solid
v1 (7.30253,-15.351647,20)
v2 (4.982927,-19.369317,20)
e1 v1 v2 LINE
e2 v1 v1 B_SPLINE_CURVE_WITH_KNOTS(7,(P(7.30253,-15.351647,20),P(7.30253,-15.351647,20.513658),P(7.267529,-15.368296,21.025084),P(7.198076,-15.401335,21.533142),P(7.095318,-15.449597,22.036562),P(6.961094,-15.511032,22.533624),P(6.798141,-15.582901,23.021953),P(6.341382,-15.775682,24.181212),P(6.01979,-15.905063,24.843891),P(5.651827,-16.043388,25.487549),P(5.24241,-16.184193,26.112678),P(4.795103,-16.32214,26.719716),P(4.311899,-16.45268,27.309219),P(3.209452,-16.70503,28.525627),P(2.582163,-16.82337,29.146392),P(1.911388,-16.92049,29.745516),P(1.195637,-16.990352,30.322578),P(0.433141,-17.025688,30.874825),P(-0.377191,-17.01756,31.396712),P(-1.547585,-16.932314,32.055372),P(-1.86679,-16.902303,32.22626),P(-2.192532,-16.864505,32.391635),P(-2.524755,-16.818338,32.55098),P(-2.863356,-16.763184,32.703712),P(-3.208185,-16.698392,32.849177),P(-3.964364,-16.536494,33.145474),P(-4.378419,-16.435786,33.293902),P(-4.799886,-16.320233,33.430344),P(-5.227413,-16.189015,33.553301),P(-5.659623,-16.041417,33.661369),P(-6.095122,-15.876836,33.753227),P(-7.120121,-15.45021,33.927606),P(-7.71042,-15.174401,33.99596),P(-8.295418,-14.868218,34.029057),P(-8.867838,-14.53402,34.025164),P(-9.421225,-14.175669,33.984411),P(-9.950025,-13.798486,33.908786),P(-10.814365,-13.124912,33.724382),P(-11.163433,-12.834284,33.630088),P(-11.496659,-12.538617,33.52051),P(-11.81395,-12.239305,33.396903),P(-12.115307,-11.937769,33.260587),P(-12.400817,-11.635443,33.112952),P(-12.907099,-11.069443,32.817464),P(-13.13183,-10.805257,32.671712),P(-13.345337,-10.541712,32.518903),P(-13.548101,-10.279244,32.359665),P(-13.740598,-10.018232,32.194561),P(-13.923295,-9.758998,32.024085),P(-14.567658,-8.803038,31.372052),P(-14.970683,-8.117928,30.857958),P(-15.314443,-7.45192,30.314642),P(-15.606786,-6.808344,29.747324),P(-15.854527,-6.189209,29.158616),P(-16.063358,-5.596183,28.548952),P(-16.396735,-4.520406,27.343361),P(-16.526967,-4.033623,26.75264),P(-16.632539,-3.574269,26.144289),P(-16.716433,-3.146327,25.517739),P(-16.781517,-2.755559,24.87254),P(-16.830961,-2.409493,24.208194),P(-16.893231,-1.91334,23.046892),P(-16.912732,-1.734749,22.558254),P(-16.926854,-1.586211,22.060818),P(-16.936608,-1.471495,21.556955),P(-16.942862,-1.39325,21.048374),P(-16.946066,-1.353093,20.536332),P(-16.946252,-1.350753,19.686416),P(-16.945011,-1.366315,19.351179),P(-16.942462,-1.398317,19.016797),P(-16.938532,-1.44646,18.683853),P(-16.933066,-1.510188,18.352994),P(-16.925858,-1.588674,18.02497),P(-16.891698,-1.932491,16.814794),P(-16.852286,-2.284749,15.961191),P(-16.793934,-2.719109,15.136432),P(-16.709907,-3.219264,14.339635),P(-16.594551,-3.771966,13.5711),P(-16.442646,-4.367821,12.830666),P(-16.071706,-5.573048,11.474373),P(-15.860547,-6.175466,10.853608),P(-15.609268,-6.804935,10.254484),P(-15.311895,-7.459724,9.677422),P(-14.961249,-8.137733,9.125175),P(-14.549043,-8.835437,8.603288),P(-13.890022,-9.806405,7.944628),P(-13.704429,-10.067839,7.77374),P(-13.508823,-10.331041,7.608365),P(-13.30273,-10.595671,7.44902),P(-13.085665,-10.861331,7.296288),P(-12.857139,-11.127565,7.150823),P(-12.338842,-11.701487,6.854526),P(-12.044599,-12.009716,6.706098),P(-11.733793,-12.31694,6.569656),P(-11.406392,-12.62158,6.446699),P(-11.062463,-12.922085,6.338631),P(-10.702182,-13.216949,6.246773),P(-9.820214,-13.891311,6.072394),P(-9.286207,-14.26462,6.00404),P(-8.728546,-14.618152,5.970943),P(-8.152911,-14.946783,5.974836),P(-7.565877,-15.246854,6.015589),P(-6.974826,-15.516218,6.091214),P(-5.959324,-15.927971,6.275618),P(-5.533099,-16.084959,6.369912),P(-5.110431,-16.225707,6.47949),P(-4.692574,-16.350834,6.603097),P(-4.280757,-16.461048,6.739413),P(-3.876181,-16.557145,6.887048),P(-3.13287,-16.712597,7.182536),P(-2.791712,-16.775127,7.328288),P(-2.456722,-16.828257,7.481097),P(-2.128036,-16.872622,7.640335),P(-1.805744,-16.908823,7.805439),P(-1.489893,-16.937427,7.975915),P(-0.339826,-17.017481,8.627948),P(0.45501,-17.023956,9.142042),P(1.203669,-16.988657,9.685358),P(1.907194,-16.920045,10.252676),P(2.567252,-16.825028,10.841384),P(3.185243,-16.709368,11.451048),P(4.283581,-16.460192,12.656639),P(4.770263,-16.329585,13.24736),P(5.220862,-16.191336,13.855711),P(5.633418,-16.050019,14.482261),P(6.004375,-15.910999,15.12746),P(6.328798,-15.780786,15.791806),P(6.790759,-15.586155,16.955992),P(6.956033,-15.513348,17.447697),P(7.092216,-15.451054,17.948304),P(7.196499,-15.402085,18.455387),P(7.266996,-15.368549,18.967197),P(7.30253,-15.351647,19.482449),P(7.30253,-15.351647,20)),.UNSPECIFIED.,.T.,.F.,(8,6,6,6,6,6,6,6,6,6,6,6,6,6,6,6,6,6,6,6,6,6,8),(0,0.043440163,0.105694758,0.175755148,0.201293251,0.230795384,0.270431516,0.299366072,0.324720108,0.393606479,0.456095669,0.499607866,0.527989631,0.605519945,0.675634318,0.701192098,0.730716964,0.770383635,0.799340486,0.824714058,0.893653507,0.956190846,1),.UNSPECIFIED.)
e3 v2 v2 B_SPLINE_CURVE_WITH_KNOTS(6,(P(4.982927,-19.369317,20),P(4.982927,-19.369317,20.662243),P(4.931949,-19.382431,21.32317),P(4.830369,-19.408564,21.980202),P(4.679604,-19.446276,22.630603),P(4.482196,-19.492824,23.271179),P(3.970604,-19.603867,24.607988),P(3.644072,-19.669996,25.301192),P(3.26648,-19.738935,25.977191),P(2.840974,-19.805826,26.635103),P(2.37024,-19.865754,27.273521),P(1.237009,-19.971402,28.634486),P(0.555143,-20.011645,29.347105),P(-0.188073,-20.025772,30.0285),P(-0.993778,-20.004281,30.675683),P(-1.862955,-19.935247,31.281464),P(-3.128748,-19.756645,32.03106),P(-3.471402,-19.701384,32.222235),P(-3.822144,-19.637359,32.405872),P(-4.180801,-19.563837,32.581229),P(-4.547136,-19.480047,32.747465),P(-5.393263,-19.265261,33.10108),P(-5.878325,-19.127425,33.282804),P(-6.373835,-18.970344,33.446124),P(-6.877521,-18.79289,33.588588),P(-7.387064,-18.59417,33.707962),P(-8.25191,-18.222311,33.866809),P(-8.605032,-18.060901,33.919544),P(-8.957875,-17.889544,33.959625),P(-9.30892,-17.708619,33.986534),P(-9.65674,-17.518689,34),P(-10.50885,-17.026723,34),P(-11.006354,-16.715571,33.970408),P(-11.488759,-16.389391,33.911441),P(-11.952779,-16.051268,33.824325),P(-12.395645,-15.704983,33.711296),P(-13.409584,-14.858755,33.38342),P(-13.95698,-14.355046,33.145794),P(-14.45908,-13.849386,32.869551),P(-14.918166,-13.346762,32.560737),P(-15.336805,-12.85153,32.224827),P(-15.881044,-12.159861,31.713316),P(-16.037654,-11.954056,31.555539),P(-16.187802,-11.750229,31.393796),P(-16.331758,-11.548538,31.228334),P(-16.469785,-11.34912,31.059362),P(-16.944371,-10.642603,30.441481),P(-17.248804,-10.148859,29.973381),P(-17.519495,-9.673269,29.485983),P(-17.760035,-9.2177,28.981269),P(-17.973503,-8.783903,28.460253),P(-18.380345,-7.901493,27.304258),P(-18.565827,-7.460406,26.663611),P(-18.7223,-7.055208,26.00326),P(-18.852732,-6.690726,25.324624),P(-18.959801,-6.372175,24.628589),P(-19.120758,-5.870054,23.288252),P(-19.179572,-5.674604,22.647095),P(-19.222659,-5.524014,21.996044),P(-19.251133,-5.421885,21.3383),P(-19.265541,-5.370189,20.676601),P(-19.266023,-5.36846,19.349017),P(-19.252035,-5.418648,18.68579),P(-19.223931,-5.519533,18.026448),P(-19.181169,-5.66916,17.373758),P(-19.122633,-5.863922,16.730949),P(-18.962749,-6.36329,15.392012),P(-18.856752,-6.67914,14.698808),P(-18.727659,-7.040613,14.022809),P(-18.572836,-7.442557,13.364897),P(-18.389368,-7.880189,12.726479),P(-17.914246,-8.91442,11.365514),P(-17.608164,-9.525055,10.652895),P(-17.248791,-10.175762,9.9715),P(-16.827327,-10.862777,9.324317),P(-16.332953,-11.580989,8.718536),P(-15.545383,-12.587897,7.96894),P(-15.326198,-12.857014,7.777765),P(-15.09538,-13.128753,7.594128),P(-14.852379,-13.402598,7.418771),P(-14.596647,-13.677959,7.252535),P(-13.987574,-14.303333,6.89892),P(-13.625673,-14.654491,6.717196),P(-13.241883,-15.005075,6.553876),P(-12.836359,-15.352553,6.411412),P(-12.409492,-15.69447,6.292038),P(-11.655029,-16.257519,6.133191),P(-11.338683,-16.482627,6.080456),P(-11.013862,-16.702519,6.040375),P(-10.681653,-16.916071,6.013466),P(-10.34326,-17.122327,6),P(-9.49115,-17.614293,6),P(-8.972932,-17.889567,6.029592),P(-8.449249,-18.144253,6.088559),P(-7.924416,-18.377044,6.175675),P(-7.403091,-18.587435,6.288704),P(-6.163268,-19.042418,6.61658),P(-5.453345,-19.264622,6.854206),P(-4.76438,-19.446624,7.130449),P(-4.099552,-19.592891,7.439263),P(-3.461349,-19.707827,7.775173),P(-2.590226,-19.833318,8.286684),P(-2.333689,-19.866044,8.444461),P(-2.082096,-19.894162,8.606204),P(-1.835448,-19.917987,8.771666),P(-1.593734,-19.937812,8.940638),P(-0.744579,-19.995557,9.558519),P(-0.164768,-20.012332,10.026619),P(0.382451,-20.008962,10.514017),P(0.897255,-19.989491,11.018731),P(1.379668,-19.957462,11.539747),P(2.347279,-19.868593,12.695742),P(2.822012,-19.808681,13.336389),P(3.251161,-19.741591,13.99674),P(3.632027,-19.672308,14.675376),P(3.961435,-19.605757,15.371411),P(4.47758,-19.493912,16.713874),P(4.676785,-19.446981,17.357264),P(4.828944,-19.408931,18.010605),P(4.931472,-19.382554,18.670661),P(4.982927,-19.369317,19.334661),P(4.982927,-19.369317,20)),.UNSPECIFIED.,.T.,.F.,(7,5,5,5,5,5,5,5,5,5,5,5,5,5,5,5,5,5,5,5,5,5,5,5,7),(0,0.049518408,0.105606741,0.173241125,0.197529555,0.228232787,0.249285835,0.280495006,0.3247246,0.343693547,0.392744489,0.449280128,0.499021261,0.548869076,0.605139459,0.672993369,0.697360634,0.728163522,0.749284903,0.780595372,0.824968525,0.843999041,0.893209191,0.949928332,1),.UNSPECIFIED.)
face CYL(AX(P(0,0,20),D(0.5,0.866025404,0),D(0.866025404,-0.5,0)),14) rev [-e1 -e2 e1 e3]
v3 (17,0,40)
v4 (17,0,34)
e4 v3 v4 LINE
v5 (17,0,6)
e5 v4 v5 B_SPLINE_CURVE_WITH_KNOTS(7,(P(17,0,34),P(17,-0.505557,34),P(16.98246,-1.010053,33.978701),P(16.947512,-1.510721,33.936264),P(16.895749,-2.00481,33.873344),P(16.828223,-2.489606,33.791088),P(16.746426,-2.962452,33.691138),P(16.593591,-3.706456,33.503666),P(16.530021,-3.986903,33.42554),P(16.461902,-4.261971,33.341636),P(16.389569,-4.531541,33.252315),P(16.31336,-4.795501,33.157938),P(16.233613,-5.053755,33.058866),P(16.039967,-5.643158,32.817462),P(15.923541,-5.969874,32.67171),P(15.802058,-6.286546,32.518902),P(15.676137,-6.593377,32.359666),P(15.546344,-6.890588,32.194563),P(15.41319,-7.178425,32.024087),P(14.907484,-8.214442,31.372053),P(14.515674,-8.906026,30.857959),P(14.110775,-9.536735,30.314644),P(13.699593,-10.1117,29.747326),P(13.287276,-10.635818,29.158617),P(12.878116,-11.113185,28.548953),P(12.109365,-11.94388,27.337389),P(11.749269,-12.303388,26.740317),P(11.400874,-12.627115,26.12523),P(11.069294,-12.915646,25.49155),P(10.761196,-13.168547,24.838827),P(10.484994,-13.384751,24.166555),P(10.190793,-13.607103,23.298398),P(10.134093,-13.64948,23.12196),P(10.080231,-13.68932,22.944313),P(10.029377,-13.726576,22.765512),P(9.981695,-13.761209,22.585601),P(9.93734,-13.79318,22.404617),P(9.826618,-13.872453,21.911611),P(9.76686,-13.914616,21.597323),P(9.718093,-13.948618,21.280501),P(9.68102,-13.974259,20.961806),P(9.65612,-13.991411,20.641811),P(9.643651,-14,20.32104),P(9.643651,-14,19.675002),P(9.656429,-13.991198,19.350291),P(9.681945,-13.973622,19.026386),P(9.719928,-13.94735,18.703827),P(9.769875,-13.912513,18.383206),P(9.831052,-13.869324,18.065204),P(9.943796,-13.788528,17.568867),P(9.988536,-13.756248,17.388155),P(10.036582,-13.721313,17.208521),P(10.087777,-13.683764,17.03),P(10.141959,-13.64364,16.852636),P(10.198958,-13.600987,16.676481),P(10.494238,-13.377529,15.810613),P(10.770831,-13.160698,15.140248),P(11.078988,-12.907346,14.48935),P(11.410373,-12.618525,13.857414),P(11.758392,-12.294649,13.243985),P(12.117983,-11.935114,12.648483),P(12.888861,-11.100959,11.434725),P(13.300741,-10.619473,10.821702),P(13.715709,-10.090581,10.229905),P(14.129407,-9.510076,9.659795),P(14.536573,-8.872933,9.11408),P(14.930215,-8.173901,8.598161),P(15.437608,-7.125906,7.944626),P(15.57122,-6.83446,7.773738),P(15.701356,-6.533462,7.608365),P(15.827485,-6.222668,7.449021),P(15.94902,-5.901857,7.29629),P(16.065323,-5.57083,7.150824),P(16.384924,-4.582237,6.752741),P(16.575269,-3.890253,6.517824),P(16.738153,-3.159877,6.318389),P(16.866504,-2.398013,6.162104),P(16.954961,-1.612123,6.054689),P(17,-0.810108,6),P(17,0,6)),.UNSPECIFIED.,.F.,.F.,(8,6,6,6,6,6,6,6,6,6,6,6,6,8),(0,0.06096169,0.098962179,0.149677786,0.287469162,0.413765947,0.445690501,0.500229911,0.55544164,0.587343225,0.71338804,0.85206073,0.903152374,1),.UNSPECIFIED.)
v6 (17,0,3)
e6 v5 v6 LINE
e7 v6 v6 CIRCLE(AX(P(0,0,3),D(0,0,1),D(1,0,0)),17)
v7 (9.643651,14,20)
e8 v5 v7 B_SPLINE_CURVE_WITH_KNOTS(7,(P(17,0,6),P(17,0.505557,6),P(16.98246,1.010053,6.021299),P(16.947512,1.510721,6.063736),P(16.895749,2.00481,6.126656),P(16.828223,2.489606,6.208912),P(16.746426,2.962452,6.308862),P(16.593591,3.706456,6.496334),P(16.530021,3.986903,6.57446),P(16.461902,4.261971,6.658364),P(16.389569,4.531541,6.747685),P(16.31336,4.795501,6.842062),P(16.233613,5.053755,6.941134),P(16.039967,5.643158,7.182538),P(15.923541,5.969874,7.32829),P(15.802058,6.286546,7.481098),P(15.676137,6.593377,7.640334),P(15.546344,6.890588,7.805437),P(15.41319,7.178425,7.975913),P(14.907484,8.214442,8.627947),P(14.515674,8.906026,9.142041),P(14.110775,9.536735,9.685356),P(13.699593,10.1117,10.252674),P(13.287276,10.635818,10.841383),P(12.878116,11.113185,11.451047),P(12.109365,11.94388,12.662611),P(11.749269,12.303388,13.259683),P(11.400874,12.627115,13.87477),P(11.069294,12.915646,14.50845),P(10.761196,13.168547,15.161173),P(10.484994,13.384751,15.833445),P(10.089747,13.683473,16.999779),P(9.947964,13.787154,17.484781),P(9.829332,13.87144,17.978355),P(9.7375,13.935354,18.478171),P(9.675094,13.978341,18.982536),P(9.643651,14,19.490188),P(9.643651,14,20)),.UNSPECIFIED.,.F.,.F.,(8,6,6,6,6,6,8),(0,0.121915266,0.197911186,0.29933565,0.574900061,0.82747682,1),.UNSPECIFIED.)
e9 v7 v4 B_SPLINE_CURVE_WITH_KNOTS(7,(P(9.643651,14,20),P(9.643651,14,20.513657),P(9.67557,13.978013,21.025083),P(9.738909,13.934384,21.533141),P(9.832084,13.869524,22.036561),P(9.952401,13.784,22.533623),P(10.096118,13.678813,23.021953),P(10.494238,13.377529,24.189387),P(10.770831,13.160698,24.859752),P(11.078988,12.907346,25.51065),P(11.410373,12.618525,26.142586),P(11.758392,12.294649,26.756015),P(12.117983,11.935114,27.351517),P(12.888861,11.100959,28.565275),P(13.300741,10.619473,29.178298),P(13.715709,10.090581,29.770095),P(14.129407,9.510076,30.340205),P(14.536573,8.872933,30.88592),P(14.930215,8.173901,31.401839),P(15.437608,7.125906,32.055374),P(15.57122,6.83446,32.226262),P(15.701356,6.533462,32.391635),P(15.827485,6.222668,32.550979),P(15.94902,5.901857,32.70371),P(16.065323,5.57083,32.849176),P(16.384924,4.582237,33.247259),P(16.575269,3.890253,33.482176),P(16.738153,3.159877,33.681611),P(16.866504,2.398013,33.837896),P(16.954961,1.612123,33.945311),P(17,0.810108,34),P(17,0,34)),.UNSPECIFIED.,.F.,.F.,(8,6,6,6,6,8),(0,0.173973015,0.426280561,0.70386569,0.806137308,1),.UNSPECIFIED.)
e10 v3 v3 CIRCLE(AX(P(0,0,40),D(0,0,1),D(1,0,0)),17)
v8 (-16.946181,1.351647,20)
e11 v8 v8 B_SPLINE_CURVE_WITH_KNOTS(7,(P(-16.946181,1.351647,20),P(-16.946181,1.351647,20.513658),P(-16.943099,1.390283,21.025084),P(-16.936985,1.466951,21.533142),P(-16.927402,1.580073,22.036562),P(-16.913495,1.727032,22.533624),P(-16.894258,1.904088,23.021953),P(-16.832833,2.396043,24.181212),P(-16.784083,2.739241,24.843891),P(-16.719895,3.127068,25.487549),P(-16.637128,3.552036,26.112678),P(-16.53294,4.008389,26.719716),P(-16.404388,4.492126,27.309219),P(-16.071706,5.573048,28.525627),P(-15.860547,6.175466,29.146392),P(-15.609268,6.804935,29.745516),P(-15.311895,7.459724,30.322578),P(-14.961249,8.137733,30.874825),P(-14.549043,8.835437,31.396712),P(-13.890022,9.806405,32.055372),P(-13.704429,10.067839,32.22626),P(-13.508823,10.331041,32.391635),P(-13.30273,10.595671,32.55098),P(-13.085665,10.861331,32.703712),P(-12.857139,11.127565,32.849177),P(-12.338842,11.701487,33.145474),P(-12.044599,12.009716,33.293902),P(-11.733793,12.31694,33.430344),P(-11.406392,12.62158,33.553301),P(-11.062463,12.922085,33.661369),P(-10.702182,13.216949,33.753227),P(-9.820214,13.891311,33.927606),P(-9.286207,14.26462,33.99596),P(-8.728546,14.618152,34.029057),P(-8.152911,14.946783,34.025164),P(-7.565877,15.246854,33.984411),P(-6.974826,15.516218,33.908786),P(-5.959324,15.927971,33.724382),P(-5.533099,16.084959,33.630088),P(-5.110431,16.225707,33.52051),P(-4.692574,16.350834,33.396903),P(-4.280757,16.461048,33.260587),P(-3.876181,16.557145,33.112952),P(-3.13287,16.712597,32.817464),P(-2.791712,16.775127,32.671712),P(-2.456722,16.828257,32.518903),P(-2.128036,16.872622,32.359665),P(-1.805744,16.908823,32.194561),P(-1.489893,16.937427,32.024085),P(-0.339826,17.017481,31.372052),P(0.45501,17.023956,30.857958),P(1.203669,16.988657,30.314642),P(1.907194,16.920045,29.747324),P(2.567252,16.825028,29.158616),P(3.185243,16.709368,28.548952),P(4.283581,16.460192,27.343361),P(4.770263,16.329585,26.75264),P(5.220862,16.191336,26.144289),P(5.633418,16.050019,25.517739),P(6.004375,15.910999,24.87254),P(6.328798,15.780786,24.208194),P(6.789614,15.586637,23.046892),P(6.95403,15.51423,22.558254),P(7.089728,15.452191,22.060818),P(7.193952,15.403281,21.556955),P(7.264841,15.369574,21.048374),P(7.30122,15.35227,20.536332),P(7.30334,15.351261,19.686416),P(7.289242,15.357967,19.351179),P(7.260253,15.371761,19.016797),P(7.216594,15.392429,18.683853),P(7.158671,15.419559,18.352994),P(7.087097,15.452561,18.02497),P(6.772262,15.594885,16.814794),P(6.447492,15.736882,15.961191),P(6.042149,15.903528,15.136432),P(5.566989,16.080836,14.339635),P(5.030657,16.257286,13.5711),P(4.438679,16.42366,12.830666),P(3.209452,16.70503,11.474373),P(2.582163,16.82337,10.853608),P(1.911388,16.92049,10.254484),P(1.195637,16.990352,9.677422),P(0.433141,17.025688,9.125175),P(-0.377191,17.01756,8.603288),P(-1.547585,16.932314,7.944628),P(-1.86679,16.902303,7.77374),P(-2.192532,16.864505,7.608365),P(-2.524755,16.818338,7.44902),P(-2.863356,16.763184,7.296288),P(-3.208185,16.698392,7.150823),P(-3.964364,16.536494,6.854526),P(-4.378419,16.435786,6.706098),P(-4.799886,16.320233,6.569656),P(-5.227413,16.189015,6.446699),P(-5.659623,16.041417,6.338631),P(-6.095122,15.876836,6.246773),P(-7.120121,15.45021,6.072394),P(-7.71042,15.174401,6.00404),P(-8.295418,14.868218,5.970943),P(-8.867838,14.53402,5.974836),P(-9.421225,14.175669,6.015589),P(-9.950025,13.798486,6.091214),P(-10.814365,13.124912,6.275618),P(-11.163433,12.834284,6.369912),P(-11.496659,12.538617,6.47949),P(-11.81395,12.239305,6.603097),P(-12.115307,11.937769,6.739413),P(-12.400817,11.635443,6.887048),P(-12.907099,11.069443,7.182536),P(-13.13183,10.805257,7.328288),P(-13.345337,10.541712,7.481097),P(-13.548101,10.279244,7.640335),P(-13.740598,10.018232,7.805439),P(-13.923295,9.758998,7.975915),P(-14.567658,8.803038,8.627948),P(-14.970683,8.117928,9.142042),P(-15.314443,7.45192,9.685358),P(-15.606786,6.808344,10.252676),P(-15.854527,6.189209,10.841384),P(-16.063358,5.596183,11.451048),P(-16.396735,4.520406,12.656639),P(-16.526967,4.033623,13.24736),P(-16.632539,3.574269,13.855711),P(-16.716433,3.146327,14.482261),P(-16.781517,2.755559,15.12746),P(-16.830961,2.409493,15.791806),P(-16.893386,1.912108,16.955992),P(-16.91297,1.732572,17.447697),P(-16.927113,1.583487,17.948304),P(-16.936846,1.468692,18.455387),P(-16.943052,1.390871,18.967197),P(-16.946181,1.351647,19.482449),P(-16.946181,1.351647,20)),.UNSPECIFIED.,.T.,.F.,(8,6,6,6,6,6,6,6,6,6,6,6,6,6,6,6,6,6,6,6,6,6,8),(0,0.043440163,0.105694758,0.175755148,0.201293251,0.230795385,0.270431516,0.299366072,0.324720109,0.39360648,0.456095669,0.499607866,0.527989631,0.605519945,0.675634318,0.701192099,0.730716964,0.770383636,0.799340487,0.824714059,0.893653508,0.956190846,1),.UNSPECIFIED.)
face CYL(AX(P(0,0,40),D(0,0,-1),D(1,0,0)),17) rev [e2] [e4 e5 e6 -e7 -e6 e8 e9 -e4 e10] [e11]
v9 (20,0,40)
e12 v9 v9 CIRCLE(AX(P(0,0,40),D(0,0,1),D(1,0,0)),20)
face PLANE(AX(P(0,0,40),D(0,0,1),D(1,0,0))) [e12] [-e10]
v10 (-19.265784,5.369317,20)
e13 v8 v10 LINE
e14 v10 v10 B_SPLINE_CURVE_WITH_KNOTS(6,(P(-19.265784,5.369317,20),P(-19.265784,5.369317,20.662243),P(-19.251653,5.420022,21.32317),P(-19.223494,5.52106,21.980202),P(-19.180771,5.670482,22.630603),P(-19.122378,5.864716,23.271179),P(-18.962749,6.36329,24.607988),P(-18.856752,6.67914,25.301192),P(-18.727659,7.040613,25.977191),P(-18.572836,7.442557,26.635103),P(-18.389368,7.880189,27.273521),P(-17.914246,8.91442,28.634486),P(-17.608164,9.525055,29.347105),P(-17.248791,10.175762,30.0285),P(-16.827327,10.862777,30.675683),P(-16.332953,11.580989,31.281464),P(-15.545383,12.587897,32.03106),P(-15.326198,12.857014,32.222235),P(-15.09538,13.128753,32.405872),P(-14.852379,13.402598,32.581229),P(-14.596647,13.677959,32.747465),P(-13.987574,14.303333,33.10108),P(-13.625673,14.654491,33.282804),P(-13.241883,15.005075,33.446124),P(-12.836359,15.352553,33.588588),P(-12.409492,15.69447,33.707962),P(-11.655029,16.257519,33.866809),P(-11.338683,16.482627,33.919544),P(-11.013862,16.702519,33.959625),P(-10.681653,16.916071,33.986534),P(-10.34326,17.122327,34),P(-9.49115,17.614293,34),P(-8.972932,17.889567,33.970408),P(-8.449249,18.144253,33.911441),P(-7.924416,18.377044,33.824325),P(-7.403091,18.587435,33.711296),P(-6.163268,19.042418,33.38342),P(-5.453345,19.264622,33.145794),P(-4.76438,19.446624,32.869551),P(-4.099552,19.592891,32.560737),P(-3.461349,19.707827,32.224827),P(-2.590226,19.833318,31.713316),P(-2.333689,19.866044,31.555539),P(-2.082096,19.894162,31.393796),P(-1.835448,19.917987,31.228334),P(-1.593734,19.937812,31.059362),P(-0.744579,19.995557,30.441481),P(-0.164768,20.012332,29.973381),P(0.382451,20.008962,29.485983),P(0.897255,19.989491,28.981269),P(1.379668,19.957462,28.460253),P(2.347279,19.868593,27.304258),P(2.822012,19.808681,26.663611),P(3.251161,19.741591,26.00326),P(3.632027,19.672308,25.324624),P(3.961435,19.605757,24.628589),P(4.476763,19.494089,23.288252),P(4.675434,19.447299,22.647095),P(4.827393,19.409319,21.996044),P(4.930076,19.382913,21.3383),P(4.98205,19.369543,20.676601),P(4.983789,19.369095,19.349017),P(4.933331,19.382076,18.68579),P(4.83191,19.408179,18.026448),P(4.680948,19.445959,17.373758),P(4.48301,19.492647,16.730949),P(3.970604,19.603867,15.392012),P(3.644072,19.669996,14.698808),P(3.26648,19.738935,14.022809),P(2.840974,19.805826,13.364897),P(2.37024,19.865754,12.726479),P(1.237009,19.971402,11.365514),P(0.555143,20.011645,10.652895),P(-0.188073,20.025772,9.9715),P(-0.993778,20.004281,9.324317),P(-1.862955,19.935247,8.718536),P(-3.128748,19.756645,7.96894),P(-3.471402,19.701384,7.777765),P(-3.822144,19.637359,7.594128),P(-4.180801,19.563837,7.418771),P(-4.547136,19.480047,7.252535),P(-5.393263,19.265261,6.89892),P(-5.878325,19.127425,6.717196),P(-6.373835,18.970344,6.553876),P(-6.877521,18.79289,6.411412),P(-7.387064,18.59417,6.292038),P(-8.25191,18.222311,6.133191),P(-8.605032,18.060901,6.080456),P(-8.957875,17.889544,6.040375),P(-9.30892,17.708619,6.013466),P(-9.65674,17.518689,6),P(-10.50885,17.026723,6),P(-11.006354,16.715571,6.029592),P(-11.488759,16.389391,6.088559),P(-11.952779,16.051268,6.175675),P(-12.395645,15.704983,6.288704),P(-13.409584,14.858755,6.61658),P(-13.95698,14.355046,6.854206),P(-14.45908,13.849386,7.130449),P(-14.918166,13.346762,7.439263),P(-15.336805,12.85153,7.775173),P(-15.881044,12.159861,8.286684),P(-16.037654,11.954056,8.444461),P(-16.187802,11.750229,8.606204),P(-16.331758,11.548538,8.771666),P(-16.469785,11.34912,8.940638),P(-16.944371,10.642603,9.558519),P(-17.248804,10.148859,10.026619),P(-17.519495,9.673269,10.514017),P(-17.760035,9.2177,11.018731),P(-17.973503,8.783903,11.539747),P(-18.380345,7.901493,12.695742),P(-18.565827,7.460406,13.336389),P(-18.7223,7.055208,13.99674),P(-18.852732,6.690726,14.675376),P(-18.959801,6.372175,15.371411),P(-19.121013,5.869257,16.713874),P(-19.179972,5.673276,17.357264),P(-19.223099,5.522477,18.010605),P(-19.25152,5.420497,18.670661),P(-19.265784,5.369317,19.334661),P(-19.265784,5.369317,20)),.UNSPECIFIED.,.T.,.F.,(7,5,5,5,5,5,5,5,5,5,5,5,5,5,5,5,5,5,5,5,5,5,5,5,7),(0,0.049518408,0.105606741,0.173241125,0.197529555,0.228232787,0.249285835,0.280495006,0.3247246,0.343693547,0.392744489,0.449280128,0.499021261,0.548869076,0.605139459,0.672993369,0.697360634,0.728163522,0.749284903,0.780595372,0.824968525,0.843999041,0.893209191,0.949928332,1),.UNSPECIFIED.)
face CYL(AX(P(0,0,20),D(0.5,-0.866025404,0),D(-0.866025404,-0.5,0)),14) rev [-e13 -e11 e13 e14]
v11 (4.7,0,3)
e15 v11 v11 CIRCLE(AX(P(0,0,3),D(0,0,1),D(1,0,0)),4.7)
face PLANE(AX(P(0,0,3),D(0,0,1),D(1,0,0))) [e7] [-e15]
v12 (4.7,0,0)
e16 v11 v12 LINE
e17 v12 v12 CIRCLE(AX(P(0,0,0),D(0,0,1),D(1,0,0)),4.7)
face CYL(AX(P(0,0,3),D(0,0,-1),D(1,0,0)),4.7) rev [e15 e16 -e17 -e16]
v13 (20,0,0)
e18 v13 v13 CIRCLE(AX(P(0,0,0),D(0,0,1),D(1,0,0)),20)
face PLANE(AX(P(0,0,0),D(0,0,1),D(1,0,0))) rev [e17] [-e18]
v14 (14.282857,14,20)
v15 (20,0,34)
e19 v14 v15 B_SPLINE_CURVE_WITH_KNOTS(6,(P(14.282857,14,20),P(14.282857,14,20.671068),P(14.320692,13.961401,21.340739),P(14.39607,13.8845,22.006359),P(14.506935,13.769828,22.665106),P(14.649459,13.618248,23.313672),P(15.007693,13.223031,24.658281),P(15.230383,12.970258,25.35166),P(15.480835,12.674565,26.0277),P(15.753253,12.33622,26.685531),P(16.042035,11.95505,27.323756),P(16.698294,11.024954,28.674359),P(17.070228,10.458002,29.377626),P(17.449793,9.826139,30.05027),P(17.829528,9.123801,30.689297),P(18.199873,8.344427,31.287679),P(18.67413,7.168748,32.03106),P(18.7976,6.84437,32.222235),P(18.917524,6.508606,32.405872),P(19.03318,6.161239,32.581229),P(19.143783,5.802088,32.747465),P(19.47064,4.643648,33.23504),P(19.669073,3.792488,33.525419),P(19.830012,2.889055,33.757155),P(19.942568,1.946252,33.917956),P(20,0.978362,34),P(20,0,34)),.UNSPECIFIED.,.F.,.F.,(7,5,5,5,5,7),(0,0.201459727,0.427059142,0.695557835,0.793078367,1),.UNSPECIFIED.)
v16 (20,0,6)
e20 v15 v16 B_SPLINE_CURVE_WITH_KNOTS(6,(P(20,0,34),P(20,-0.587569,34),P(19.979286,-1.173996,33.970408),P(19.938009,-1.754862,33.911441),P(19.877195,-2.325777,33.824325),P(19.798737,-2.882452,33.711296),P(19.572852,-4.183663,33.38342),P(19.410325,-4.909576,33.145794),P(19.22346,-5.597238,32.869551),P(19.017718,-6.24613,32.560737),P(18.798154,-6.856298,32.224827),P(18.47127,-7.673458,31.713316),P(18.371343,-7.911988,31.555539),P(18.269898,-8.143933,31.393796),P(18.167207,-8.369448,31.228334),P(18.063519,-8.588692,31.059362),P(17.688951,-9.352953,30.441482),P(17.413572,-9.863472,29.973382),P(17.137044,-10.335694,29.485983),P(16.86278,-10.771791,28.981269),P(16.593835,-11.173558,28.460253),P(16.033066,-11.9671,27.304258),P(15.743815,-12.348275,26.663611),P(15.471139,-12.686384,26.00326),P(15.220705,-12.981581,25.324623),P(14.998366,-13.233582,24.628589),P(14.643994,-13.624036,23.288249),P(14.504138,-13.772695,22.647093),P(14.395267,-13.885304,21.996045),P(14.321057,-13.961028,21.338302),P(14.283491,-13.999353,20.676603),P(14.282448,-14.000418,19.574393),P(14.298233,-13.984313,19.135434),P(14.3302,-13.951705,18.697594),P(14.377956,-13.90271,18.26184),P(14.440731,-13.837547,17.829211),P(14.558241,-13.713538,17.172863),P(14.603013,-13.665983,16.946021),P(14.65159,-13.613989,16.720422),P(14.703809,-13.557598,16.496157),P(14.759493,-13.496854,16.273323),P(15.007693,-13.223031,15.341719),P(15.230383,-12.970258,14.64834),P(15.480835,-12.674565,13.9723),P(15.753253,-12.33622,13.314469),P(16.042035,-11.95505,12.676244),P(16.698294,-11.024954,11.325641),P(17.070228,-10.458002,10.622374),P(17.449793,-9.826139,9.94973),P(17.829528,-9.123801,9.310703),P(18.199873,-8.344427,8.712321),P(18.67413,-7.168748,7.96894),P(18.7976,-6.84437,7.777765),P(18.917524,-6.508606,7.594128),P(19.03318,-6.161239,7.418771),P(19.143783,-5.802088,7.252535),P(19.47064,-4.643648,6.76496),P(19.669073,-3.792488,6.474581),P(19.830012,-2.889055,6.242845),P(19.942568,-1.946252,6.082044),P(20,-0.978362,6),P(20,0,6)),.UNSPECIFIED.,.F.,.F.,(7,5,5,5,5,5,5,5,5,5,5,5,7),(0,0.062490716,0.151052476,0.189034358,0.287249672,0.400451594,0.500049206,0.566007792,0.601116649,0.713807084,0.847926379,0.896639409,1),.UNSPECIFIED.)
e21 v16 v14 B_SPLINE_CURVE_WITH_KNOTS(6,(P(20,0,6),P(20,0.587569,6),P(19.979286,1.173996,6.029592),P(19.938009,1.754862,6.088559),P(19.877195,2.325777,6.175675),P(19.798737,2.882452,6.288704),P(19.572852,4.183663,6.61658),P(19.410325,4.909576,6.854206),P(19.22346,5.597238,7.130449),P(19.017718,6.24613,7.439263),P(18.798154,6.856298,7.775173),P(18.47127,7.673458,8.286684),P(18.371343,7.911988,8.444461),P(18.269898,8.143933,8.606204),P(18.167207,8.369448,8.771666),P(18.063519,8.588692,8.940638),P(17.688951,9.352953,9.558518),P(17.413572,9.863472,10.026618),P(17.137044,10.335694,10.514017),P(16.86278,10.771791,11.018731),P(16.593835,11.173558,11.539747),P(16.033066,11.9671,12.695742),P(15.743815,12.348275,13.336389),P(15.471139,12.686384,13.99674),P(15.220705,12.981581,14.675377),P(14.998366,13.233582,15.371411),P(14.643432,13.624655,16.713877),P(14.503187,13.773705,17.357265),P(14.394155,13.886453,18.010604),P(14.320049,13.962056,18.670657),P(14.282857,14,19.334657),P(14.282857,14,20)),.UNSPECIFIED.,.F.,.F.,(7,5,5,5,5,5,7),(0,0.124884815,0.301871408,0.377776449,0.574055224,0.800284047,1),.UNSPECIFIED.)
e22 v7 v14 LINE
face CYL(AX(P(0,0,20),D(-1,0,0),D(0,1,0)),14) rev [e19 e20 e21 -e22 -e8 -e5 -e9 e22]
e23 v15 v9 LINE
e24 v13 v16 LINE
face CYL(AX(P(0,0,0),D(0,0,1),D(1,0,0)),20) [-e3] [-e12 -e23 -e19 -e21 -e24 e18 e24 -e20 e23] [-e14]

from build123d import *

# Parameters (mm, degrees)
CYLINDER_R         = 14
CYLINDER_DEPTH     = 100
POLARPATTERN_COUNT = 3


with BuildPart() as part:
    # Sketch → Revolution (revolve)
    with BuildSketch(Plane.XZ):
        Polygon((4.7, 0), (20, 0), (20, 40), (17, 40), (17, 3), (4.7, 3), align=None)
    revolve(axis=Axis((0, 0, 0), (0, 0, 1)))

    # Cylinder → Cylinder (cut)
    with BuildSketch(Plane(origin=(0, 0, 20), x_dir=(0, 1, 0), z_dir=(1, 0, 0))):
        Circle(CYLINDER_R)
    cylinder = extrude(amount=CYLINDER_DEPTH, mode=Mode.SUBTRACT)

    # PolarPattern: Cylinder ×3 about axis
    polarpattern_axis = Axis((0, 0, 0), (0, 0, 1))
    for i in range(1, POLARPATTERN_COUNT):
        add(cylinder.rotate(polarpattern_axis, i * 360 / POLARPATTERN_COUNT), mode=Mode.SUBTRACT)


solid = part.part
